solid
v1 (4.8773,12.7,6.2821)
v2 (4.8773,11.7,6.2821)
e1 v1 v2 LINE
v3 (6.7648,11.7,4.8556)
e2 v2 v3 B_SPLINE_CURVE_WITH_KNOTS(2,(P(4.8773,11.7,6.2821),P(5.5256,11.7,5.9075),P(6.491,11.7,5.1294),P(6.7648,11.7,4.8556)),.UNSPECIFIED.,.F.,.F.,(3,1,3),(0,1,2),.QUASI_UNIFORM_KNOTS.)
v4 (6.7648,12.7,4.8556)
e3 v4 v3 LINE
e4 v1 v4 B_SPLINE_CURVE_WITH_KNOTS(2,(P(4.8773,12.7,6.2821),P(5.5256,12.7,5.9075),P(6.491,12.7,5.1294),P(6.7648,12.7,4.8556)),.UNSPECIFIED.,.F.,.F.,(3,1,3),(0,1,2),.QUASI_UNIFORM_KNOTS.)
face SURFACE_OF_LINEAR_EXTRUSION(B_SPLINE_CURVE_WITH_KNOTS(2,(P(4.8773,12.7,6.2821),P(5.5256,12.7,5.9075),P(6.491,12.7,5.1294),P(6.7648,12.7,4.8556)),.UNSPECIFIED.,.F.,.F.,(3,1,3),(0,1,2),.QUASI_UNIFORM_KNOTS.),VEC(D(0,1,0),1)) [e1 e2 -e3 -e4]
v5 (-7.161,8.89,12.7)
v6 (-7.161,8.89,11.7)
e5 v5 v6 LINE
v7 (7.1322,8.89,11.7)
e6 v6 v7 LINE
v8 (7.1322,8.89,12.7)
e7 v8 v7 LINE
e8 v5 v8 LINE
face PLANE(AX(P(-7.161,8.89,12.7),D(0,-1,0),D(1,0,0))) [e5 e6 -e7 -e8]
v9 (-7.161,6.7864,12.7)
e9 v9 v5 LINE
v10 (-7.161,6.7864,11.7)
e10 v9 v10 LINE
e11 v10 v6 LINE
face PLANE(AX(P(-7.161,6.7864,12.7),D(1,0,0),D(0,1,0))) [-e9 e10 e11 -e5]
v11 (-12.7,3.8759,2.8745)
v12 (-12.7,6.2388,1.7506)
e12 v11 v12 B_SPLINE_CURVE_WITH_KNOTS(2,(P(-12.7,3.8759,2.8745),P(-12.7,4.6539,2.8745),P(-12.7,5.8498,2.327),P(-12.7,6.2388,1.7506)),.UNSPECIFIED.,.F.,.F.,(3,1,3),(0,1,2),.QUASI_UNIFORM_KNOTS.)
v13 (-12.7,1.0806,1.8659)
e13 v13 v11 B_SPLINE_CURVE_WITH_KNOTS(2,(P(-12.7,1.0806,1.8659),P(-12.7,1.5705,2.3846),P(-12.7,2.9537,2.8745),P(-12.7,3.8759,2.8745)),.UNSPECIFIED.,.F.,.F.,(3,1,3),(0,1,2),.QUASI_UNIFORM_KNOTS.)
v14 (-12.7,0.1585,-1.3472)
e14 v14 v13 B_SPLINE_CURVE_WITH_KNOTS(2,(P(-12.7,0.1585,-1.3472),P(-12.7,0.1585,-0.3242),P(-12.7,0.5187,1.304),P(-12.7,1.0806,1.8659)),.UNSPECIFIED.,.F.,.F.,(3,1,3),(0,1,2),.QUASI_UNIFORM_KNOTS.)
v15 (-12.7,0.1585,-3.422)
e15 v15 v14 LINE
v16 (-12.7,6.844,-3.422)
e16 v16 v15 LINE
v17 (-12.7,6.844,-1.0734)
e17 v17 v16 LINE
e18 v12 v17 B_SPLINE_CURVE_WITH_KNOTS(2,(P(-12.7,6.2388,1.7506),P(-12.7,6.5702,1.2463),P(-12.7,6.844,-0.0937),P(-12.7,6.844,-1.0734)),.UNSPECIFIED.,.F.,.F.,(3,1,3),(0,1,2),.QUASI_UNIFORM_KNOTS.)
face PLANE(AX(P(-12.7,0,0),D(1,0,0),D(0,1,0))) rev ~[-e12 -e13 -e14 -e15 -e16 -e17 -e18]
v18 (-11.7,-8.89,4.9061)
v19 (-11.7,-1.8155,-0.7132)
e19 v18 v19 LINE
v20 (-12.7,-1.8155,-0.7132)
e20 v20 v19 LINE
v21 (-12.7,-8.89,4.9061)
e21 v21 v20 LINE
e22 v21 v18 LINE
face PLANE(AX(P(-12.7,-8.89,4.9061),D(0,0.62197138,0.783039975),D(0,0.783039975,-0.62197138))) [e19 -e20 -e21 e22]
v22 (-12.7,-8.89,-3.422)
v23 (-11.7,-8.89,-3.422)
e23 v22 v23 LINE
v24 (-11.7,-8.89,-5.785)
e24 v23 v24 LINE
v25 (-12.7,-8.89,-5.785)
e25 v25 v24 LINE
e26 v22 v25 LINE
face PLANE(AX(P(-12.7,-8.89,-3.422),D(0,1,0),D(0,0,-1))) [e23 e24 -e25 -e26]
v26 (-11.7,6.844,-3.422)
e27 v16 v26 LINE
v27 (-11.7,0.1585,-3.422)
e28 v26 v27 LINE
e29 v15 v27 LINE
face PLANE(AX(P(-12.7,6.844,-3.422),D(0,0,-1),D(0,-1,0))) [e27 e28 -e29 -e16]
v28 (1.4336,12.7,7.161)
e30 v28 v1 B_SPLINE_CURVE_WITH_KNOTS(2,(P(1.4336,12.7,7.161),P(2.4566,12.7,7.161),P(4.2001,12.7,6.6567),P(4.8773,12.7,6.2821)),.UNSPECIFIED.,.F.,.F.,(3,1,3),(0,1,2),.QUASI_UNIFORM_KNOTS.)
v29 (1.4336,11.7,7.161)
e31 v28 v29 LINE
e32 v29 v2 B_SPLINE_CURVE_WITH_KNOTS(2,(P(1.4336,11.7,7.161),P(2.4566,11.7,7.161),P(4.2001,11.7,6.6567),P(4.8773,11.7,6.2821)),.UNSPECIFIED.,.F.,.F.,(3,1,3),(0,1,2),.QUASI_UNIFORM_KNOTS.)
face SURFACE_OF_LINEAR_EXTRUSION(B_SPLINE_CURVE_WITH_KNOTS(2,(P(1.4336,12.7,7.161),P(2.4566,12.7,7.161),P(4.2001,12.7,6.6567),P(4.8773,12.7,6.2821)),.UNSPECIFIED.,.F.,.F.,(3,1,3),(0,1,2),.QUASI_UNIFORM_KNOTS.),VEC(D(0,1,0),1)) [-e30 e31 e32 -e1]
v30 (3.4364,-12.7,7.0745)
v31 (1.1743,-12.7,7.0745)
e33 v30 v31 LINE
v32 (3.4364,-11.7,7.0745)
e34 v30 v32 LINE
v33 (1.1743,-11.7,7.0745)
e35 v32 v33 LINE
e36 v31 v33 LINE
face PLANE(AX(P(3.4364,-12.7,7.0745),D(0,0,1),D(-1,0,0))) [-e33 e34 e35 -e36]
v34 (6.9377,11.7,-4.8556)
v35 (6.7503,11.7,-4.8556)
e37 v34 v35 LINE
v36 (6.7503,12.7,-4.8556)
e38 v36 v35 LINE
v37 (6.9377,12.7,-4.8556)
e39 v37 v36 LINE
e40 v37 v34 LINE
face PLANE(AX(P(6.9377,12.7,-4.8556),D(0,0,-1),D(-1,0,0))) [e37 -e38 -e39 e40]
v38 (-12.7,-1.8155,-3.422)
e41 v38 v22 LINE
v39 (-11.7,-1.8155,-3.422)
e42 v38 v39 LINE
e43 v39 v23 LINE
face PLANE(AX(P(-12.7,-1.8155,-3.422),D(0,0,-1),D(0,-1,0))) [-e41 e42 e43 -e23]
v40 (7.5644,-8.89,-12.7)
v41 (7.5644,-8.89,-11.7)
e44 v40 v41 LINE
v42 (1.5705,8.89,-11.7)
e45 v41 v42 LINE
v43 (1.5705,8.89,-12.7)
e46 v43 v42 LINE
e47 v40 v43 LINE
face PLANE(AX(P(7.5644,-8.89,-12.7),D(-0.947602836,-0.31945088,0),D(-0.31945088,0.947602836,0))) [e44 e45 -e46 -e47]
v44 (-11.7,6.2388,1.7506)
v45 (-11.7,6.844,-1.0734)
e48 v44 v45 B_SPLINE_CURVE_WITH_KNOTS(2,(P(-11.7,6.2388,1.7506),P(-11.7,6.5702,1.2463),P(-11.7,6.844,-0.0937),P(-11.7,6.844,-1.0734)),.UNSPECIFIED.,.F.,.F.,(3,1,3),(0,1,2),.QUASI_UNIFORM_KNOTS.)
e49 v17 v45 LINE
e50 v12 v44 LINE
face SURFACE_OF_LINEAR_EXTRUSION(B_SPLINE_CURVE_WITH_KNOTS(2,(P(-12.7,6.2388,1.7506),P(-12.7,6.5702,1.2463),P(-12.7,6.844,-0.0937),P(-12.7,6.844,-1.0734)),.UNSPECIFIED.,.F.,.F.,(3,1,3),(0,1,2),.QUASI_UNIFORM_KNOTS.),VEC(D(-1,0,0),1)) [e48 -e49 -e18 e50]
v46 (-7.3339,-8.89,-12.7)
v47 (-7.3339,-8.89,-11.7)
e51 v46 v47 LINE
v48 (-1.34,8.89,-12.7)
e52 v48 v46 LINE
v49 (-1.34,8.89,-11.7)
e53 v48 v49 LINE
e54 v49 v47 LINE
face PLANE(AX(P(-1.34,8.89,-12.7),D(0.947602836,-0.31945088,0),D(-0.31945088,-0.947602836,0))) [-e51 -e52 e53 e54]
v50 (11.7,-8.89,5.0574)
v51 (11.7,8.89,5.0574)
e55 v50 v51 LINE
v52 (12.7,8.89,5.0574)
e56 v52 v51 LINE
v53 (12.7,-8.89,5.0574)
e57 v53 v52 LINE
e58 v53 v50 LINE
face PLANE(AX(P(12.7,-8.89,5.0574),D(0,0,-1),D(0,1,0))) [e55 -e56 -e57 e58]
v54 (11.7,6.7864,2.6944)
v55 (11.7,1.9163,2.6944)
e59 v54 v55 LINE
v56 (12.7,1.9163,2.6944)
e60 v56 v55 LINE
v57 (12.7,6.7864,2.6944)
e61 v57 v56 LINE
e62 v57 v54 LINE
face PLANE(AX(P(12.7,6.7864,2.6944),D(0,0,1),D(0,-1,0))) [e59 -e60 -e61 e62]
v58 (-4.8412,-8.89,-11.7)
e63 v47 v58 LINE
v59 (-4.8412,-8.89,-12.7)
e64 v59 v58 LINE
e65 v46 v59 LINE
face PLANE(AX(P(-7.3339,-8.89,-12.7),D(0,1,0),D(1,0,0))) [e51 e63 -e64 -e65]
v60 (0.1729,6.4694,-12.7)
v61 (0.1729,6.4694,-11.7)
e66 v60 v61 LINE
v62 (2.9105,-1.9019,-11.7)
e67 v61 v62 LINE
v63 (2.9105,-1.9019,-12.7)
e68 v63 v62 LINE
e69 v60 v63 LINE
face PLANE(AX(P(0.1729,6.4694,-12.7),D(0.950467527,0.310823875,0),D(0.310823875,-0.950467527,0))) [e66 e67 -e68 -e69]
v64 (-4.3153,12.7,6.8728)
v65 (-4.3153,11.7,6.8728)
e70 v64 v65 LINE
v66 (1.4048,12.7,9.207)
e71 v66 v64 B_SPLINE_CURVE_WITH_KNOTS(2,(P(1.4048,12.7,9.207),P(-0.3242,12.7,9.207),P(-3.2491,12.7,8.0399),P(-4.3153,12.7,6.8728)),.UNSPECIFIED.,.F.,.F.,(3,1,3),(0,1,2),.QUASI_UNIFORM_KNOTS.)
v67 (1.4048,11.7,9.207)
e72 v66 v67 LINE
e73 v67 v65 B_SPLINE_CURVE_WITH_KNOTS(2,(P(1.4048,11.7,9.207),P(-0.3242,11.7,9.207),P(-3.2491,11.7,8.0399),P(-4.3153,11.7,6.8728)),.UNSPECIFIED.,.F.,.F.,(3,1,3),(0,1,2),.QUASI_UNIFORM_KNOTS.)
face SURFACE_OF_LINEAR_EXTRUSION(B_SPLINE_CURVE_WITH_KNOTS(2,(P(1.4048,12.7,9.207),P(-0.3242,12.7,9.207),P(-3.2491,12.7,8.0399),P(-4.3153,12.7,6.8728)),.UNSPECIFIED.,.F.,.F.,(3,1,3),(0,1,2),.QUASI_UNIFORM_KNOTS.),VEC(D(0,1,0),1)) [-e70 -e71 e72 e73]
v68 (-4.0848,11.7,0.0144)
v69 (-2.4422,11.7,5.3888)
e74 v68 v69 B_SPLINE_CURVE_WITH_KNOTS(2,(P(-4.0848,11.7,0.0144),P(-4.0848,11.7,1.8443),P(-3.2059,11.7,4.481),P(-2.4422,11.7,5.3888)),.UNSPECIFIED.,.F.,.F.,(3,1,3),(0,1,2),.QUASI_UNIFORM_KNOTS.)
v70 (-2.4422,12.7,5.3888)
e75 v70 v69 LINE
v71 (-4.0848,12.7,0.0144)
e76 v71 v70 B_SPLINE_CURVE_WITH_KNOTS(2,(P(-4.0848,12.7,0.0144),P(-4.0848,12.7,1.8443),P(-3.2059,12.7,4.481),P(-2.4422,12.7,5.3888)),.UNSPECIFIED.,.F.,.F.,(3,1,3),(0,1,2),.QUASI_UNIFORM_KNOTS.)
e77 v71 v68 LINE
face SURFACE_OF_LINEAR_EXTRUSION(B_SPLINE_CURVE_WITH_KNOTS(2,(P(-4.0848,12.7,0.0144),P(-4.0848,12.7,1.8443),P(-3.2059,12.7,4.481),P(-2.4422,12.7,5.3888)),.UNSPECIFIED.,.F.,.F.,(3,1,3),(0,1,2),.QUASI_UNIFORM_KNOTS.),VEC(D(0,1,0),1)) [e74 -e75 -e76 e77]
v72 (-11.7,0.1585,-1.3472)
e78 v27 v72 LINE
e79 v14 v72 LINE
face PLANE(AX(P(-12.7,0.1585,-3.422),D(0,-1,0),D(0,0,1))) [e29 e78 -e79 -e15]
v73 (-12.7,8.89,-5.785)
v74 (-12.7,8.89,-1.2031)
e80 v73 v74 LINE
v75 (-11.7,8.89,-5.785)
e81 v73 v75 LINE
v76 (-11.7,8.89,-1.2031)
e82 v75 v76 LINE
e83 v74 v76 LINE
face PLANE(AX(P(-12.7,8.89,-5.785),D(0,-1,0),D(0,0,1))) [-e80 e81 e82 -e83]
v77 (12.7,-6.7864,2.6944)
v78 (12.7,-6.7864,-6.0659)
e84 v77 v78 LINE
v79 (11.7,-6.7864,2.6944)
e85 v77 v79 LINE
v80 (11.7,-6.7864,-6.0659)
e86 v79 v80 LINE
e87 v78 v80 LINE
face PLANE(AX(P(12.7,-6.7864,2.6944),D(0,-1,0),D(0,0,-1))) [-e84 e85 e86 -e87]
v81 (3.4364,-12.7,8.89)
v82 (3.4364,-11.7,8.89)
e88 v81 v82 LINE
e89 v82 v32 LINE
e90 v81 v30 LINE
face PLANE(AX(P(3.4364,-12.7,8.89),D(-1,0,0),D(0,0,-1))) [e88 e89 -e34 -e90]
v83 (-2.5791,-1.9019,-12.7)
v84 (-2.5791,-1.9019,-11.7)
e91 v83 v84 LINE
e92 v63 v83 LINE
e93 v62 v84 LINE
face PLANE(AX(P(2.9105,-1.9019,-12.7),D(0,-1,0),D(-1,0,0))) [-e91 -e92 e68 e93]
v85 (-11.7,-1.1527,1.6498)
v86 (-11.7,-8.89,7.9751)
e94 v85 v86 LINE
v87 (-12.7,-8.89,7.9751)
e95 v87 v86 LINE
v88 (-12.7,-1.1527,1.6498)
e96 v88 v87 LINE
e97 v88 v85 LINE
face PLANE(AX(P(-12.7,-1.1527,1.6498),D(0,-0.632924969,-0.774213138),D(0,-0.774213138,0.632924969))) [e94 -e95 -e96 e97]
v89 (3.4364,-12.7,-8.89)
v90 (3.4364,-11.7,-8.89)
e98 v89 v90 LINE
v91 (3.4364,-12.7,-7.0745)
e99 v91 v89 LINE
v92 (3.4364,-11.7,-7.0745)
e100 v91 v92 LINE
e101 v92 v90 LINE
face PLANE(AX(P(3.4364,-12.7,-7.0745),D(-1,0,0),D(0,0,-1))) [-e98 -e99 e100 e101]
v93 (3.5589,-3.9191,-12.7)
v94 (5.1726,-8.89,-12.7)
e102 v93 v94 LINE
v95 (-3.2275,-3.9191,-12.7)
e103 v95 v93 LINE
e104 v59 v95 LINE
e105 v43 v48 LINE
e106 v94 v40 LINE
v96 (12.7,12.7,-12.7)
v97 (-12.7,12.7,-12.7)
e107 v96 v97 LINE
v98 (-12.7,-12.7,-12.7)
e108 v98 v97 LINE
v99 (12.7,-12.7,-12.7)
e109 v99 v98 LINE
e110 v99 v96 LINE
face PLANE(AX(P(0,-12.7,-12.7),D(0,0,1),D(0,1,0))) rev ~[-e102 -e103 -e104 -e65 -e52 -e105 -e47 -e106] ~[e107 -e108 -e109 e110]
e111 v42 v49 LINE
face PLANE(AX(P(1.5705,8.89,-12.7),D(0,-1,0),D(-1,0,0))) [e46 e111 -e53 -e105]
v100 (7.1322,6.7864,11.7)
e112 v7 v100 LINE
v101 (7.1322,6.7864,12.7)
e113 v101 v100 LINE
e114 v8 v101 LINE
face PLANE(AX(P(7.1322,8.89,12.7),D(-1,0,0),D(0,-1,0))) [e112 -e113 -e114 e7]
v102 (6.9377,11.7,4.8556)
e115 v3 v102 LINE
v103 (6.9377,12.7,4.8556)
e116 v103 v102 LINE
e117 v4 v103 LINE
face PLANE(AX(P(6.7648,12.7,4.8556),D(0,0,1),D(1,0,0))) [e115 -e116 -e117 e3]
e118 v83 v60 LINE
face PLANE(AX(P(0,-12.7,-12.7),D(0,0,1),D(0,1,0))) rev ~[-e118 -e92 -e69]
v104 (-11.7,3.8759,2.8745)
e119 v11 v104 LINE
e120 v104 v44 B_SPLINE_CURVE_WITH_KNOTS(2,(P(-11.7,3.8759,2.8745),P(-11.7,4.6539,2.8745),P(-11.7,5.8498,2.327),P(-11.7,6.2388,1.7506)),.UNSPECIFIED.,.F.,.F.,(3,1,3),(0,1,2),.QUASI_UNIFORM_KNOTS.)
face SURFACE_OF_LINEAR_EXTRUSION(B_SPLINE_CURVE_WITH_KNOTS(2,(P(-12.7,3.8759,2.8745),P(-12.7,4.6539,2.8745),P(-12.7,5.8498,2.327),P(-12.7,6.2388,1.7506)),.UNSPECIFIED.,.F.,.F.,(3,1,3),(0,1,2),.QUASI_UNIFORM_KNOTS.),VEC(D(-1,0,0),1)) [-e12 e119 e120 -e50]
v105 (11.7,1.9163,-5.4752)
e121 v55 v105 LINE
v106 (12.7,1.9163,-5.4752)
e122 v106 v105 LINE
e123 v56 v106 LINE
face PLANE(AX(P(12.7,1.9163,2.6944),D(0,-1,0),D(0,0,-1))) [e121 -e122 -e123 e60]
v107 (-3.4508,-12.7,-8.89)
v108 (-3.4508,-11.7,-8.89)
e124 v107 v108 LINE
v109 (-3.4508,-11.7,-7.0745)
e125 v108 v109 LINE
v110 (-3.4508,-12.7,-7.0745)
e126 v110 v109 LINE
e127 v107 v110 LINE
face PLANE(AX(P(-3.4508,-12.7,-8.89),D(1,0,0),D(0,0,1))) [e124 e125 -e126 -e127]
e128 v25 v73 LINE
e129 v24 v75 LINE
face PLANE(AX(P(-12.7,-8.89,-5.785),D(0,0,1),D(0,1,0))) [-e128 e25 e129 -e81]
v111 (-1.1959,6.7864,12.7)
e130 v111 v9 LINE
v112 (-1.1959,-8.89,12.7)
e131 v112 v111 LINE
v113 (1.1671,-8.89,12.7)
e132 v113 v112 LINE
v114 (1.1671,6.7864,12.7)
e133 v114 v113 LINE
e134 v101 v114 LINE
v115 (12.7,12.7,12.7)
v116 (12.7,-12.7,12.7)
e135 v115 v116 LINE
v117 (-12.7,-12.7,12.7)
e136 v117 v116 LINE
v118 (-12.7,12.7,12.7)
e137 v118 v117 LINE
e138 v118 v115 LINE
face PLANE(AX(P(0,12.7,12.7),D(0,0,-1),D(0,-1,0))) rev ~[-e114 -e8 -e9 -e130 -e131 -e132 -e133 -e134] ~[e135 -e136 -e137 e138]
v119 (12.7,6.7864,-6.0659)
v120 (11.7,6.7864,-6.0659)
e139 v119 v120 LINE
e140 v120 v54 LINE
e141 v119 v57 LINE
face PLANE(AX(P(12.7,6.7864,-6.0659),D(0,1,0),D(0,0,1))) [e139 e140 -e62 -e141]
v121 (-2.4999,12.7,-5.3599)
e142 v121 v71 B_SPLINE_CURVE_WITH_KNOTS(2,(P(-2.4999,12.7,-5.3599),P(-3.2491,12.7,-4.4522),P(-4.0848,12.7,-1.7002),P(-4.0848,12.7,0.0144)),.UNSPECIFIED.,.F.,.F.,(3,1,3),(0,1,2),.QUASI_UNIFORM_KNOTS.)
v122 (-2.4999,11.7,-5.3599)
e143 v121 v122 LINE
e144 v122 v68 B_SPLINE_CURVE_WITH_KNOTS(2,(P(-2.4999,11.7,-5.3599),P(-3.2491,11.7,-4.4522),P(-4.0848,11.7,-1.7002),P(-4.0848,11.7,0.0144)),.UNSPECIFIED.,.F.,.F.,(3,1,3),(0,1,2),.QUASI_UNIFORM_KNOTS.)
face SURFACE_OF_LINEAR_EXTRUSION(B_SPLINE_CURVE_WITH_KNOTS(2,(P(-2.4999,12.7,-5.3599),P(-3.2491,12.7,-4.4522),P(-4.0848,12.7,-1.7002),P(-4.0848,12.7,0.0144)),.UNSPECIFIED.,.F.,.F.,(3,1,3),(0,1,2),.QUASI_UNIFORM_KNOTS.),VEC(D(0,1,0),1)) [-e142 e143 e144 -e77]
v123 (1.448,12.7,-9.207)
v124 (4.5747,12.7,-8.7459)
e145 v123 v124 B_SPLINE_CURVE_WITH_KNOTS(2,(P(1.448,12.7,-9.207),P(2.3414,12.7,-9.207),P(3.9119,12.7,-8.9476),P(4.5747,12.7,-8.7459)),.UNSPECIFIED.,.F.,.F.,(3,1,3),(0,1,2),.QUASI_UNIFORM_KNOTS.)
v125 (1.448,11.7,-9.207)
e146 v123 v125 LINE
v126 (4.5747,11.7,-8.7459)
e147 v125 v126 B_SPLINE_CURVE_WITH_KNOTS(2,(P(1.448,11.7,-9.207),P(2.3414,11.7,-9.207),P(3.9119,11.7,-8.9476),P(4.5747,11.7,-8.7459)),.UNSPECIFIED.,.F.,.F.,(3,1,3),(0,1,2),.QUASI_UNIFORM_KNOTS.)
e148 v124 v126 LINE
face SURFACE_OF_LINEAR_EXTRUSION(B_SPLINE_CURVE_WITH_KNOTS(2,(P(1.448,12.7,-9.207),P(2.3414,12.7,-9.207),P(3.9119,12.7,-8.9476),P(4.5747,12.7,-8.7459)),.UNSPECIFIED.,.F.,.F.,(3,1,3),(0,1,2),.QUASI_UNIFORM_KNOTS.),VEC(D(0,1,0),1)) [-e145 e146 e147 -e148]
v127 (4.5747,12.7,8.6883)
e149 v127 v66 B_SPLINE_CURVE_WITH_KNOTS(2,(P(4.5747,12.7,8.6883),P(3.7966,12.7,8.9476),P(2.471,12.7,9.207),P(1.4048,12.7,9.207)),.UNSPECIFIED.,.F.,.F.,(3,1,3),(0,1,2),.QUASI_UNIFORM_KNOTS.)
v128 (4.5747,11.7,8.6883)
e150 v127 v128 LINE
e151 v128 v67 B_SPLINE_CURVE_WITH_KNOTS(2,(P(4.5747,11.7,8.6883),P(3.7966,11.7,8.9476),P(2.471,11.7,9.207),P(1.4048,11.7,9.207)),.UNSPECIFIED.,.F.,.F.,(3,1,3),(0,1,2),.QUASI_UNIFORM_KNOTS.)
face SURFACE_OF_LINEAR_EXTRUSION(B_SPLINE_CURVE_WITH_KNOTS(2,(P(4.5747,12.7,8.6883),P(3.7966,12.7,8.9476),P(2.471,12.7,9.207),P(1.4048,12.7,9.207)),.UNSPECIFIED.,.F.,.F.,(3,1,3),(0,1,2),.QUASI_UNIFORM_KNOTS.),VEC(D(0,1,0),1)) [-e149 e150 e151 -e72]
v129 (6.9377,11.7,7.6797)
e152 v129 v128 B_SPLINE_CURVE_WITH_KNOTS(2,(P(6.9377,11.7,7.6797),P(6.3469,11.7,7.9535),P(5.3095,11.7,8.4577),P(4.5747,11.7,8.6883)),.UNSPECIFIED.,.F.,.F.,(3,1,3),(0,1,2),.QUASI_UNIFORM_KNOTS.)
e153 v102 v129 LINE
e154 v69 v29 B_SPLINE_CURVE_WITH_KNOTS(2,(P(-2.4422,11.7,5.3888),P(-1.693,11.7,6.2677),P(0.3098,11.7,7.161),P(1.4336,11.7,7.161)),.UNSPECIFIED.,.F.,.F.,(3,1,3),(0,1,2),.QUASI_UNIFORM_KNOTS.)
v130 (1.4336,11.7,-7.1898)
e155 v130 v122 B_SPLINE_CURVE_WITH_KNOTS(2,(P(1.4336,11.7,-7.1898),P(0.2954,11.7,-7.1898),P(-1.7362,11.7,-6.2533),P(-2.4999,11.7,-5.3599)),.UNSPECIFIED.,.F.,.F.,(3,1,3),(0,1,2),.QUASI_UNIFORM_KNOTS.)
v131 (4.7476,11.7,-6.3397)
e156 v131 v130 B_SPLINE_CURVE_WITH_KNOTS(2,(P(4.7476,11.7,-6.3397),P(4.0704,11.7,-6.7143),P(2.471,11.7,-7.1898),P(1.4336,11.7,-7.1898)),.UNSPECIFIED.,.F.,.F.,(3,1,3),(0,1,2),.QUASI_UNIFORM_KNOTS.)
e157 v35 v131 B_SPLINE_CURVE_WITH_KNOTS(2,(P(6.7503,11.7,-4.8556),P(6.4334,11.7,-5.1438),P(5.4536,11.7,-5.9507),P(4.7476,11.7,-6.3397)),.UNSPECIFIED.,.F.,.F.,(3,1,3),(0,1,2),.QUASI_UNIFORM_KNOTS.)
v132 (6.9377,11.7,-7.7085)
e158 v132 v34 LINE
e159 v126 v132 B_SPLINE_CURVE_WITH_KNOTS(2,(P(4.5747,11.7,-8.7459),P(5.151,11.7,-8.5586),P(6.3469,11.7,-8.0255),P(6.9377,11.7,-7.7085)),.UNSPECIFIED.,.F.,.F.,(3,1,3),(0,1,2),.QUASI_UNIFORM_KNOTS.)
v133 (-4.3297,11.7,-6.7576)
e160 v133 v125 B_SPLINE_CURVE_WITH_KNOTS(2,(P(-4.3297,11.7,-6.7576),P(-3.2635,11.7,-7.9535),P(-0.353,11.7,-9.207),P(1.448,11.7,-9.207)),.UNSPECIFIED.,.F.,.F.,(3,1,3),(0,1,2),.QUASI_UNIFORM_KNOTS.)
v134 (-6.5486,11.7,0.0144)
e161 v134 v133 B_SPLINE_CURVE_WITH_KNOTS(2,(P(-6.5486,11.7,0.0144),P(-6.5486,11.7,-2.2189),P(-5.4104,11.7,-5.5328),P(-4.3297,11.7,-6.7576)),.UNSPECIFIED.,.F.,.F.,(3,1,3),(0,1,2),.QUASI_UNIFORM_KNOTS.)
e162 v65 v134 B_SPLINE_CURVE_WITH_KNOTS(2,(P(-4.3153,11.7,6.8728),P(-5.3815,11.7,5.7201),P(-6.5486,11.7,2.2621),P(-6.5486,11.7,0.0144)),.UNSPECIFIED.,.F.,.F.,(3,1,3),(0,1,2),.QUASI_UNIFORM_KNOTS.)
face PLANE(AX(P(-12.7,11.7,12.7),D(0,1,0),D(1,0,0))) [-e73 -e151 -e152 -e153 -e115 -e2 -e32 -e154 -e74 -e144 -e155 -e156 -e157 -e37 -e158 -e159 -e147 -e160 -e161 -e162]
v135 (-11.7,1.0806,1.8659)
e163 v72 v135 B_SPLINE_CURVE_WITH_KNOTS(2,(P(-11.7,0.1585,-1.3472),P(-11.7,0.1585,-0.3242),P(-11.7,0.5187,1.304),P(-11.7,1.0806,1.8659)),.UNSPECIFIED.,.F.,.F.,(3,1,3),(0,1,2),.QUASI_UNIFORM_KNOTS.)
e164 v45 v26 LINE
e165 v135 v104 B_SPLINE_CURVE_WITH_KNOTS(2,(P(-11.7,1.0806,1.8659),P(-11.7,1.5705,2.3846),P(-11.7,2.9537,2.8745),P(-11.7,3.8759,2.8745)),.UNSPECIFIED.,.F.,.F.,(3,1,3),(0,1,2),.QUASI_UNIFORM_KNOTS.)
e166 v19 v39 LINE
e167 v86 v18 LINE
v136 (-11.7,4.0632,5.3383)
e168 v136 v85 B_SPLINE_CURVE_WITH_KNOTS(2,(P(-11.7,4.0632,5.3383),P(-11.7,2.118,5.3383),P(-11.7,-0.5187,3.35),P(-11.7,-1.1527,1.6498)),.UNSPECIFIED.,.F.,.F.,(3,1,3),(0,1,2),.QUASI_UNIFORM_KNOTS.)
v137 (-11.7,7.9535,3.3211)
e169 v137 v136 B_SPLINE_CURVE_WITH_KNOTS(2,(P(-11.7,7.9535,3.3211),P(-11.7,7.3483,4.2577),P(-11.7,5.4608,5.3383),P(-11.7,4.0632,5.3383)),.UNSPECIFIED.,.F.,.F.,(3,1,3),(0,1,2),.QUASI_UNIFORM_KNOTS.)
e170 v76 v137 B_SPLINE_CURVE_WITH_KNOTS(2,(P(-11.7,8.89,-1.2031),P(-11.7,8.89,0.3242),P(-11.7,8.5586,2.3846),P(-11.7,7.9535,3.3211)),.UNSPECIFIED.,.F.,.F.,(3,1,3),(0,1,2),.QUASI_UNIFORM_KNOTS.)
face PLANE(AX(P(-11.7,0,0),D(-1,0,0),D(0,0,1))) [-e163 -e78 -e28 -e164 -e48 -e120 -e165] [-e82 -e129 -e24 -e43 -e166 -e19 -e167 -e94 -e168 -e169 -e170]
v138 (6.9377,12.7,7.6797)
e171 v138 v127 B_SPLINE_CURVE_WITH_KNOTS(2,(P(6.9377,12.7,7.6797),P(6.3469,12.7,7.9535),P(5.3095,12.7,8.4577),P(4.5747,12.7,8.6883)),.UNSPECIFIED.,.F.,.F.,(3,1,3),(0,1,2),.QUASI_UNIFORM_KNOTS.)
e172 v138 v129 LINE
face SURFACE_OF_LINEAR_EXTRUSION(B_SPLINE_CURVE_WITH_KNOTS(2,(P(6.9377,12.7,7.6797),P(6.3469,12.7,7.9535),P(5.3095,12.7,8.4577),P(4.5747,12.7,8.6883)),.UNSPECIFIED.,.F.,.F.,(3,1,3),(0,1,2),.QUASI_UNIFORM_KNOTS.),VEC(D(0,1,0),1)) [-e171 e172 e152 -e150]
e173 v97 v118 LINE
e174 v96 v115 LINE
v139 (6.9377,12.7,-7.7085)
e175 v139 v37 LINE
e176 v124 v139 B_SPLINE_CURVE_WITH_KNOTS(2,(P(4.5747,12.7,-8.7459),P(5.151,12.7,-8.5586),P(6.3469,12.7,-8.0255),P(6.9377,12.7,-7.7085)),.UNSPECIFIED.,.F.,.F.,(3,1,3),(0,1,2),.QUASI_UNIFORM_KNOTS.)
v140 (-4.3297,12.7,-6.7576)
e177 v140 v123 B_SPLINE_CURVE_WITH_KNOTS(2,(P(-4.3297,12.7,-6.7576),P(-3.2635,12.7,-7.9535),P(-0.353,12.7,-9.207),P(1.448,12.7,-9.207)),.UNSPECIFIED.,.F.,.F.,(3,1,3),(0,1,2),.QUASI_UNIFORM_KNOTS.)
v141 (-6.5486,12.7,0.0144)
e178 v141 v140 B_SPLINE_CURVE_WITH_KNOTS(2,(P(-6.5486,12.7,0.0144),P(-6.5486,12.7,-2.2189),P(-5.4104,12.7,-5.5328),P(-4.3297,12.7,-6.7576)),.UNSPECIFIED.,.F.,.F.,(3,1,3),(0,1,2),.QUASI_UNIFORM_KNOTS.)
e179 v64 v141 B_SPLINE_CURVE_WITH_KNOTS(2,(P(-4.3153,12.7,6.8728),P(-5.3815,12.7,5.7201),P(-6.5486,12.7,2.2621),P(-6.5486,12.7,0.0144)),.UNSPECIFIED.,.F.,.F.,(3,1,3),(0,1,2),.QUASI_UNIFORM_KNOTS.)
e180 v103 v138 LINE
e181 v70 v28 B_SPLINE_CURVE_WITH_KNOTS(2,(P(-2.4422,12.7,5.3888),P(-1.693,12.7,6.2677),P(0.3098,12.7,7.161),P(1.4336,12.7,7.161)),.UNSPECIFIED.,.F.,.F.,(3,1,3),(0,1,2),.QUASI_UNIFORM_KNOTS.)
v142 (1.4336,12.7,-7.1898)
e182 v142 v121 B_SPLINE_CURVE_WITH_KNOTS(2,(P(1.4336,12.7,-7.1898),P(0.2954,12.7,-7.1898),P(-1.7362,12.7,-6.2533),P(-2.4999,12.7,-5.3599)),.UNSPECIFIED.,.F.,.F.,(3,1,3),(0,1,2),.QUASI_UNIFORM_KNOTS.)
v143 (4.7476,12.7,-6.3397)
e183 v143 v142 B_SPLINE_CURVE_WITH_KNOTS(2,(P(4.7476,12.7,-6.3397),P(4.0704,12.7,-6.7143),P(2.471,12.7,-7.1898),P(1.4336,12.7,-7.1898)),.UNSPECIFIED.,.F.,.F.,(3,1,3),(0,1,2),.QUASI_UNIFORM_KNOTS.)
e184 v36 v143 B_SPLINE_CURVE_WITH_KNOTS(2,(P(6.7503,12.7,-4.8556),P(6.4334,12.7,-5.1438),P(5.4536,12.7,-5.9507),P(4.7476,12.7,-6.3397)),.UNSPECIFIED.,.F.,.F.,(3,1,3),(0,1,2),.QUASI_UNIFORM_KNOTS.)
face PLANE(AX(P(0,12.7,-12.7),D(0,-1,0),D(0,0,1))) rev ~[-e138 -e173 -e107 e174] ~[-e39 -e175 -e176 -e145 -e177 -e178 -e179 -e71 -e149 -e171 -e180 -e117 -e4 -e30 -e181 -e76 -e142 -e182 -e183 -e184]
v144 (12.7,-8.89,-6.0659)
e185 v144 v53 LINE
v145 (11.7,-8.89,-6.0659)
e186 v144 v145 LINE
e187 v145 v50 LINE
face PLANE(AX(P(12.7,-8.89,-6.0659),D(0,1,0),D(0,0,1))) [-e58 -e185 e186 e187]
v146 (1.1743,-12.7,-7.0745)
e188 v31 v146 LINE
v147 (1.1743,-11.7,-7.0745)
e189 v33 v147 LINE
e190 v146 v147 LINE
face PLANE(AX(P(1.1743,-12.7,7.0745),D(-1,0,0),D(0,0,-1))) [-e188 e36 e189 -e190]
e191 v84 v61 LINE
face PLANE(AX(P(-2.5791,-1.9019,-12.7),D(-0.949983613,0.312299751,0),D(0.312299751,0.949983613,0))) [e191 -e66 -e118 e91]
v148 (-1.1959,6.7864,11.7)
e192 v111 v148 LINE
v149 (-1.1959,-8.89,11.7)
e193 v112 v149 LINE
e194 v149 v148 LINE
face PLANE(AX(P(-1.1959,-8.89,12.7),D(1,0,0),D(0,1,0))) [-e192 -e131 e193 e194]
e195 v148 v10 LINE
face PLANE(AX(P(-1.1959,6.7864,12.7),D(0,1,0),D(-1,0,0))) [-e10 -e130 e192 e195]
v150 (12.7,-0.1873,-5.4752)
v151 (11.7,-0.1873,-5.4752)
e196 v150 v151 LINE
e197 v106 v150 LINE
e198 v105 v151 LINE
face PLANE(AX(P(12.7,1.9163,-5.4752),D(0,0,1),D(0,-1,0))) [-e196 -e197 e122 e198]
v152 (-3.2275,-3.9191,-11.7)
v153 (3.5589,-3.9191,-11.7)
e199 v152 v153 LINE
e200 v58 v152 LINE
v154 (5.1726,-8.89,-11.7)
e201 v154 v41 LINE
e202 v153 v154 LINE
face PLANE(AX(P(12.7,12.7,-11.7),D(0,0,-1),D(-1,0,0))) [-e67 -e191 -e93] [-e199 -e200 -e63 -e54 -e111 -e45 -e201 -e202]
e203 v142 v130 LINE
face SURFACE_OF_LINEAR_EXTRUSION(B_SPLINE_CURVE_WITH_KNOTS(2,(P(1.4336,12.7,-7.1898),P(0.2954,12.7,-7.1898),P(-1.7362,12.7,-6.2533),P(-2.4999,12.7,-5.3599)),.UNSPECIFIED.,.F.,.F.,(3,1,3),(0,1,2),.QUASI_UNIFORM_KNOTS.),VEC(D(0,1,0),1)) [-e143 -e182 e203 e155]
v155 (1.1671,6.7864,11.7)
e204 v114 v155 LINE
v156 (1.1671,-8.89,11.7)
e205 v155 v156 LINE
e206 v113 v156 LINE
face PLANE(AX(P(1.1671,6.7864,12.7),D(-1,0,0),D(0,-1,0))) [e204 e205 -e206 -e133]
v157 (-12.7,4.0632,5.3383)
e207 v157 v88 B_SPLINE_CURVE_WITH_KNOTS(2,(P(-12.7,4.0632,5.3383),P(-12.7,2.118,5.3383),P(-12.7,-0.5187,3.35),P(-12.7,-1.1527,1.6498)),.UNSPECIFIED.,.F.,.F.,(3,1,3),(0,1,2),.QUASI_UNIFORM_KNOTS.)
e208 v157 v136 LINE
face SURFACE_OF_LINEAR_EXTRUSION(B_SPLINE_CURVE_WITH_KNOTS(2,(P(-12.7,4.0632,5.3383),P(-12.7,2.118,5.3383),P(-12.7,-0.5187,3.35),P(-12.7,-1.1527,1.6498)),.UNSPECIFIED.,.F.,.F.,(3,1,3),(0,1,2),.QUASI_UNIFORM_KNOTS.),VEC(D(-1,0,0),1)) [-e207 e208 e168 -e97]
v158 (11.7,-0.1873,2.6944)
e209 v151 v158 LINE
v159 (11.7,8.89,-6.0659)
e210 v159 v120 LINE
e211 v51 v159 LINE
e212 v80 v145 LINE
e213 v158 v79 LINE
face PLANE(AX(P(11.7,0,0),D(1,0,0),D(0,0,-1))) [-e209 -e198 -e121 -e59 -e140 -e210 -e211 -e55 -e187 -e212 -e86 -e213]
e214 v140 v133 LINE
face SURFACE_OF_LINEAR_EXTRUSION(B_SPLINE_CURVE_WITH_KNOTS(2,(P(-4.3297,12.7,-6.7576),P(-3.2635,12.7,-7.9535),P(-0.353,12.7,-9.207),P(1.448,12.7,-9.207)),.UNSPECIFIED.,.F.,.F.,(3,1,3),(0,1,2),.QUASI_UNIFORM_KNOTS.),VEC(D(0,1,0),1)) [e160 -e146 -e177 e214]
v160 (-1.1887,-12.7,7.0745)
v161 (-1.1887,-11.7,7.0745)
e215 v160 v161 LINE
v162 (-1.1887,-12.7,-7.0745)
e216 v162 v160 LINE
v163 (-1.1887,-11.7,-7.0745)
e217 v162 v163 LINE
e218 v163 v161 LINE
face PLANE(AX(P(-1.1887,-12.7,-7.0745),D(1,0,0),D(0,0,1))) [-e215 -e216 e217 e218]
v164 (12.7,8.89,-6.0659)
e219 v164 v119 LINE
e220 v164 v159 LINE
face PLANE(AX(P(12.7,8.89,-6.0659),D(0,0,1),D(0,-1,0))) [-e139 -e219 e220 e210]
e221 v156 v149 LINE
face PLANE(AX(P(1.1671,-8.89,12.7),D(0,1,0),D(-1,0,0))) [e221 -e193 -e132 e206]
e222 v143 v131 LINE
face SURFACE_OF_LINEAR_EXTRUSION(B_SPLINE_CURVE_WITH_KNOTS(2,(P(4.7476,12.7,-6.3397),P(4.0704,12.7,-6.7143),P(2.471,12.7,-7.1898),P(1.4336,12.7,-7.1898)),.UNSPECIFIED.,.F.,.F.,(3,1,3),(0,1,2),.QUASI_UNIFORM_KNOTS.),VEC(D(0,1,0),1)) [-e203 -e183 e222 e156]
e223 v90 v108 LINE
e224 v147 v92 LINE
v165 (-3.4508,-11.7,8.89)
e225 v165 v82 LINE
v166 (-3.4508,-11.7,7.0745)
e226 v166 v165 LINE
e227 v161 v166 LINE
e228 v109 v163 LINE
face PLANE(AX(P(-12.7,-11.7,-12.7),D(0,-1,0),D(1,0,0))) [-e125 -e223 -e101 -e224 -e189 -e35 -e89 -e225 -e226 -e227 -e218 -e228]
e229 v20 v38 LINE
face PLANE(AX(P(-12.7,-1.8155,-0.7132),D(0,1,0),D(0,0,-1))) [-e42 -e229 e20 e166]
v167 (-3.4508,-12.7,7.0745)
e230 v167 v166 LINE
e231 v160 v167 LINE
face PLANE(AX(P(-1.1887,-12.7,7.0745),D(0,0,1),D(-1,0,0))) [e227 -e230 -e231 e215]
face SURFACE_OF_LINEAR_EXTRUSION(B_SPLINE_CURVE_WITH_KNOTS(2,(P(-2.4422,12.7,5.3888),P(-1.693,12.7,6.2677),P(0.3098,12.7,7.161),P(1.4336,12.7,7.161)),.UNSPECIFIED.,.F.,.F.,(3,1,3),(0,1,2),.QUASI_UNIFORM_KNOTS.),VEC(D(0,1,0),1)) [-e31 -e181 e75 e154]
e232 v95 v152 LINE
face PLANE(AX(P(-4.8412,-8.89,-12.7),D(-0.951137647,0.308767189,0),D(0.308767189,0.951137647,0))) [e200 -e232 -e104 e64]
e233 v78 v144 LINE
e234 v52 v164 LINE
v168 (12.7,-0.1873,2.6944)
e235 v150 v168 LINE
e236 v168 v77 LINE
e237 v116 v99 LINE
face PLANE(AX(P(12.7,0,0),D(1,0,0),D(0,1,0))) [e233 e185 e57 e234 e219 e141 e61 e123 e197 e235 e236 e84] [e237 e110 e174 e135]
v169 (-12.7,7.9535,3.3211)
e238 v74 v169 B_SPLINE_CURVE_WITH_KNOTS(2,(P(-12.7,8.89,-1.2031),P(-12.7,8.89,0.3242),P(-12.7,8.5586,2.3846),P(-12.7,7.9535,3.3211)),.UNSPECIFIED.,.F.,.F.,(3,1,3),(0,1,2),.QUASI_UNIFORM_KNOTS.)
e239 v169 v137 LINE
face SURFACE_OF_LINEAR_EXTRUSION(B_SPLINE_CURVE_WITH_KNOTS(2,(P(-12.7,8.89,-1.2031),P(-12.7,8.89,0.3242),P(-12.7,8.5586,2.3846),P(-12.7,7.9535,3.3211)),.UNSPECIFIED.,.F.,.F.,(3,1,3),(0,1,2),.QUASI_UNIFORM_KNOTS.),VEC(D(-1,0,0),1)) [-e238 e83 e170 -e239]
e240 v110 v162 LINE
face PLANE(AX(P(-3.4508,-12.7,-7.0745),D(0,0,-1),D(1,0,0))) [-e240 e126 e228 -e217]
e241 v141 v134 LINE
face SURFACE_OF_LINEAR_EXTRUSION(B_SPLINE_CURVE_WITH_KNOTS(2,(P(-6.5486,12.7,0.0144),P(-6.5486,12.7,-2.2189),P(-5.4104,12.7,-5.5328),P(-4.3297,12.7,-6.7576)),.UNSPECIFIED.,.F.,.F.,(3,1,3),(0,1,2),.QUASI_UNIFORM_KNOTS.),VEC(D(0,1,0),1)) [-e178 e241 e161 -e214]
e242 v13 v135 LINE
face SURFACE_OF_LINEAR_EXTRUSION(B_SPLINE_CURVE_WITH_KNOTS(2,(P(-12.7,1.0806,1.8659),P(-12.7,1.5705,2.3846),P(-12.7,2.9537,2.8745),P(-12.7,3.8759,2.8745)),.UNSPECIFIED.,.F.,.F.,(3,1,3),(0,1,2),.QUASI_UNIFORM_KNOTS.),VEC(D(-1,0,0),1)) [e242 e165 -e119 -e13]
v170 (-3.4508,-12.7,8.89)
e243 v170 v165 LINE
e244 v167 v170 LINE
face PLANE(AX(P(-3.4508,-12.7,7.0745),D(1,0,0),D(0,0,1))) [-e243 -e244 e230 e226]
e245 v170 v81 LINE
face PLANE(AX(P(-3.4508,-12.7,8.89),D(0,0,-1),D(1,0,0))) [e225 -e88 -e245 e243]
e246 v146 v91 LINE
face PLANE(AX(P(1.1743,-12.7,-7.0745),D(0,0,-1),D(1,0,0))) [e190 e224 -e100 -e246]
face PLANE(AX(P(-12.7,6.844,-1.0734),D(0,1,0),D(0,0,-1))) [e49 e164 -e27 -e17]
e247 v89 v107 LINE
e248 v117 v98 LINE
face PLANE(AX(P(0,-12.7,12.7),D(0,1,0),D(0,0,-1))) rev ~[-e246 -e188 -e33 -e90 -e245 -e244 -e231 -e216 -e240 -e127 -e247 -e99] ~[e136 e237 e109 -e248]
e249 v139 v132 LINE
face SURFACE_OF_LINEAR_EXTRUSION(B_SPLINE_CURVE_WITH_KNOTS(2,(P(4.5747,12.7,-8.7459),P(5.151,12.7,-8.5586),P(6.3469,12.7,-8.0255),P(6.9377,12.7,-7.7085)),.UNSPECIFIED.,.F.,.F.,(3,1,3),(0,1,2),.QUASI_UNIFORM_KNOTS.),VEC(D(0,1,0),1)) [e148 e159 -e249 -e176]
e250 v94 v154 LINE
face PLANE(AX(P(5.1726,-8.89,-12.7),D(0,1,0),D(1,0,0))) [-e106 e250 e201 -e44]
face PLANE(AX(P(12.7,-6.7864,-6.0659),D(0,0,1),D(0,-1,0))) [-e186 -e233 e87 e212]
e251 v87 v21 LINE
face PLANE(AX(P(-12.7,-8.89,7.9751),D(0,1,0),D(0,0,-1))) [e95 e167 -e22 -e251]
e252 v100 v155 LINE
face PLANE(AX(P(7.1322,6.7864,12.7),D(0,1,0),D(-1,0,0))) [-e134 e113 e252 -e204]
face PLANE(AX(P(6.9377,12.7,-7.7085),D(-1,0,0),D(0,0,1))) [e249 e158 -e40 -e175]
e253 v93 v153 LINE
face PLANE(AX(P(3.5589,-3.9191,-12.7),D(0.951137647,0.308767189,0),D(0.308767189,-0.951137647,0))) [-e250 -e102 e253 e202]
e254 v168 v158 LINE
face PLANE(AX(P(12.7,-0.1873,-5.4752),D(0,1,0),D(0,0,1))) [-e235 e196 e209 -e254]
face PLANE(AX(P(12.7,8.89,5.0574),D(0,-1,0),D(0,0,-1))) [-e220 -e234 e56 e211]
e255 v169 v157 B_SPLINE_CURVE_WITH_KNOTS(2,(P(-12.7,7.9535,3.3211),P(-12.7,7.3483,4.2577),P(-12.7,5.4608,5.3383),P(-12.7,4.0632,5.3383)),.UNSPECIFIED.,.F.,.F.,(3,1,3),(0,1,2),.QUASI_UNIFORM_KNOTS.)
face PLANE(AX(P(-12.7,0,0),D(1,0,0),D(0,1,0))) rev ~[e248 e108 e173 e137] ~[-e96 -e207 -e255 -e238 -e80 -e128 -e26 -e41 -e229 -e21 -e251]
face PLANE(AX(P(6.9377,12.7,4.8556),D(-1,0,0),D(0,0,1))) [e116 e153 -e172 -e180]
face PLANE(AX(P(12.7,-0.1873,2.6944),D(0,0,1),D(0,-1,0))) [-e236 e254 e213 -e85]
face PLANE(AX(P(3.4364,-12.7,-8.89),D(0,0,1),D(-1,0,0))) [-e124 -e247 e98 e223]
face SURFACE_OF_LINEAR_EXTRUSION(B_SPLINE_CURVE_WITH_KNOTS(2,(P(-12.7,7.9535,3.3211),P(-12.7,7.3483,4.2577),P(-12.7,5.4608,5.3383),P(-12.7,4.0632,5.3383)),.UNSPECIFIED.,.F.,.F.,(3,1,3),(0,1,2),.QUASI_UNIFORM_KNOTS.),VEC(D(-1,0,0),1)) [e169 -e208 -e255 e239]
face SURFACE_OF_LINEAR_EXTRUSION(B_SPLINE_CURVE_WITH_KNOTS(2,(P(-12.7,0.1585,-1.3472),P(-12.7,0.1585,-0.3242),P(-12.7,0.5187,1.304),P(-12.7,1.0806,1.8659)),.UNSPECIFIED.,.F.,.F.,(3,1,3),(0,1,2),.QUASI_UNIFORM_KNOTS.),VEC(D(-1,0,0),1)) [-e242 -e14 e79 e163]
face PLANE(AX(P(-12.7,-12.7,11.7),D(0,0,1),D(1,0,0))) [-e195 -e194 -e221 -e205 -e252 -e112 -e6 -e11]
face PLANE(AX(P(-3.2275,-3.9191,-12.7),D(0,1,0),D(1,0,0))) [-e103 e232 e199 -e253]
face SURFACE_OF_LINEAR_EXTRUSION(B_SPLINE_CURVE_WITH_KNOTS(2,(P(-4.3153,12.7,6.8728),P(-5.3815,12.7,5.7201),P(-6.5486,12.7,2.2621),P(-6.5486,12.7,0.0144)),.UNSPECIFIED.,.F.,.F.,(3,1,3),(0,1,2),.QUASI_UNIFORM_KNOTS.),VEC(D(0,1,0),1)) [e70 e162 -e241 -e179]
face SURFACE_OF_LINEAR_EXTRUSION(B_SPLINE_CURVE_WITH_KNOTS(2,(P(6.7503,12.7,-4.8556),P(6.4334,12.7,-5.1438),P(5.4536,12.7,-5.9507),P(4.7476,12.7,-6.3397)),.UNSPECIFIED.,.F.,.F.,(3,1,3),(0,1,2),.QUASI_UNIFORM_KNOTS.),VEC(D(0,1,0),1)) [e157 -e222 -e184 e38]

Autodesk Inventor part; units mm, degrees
ref_plane "YZ Plane" through (0, 0, 0) normal (1, 0, 0) x (0, 1, 0)
ref_plane "XZ Plane" through (0, 0, 0) normal (0, 1, 0) x (-1, 0, 0)
ref_plane "XY Plane" through (0, 0, 0) normal (0, 0, 1) x (1, 0, 0)
sketch "sqr_sketch" plane through (0, 0, 0) normal (1, 0, 0) x (0, 1, 0)
  line L0 (12.7, 12.7) -> (-12.7, 12.7)
  line L1 (-12.7, 12.7) -> (-12.7, -12.7)
  line L2 (-12.7, -12.7) -> (12.7, -12.7)
  line L3 (12.7, -12.7) -> (12.7, 12.7)
  line L4 (12.7, 12.7) -> (-12.7, -12.7) construction
  line L5 (-12.7, 12.7) -> (12.7, -12.7) construction
  point P0 (0, 0)
  dimension "d0" = 25.4
extrude "sqr_extrusion" add sketch "sqr_sketch" along normal mid plane 25.4
sketch "T_sketch" plane through (-12.7, -12.7, 12.7) normal (0, 0, 1) x (1, 0, 0)
  line L0 (5.5534, 21.59) -> (19.8466, 21.59) construction
  line L1 (19.8466, 21.59) -> (19.8466, 3.81) construction
  line L2 (19.8466, 3.81) -> (5.5534, 3.81) construction
  line L3 (5.5534, 3.81) -> (5.5534, 21.59) construction
  line L4 (12.7, 21.59) -> (12.7, 3.81) construction
  line L5 (11.5041, 3.81) -> (11.5041, 19.4864)
  line L6 (11.5041, 19.4864) -> (5.539, 19.4864)
  line L7 (5.539, 19.4864) -> (5.539, 21.59)
  line L8 (5.539, 21.59) -> (19.8322, 21.59)
  line L9 (19.8322, 21.59) -> (19.8322, 19.4864)
  line L10 (19.8322, 19.4864) -> (13.8671, 19.4864)
  line L11 (13.8671, 19.4864) -> (13.8671, 3.81)
  line L12 (13.8671, 3.81) -> (11.5041, 3.81)
  point P0 (12.7, 12.7)
  point P1 (12.7, 12.7)
  point P2 (5.5534, 12.7)
  point P3 (19.8466, 12.7)
  dimension "d17" = 17.78
  dimension "d18" = 14.2932
extrude "T_extrusion" cut sketch "T_sketch" against normal blind 1
sketch "E_sketch" plane through (12.7, 0, 0) normal (1, 0, 0) x (0, 0, -1)
  line L0 (-6.8584, 8.89) -> (6.8584, 8.89) construction
  line L1 (6.8584, 8.89) -> (6.8584, -8.89) construction
  line L2 (6.8584, -8.89) -> (-6.8584, -8.89) construction
  line L3 (-6.8584, -8.89) -> (-6.8584, 8.89) construction
  line L4 (0, 8.89) -> (0, -8.89) construction
  line L5 (-5.0574, -8.89) -> (-5.0574, 8.89)
  line L6 (-5.0574, 8.89) -> (6.0659, 8.89)
  line L7 (6.0659, 8.89) -> (6.0659, 6.7864)
  line L8 (6.0659, 6.7864) -> (-2.6944, 6.7864)
  line L9 (-2.6944, 6.7864) -> (-2.6944, 1.9163)
  line L10 (-2.6944, 1.9163) -> (5.4752, 1.9163)
  line L11 (5.4752, 1.9163) -> (5.4752, -0.1873)
  line L12 (5.4752, -0.1873) -> (-2.6944, -0.1873)
  line L13 (-2.6944, -0.1873) -> (-2.6944, -6.7864)
  line L14 (-2.6944, -6.7864) -> (6.0659, -6.7864)
  line L15 (6.0659, -6.7864) -> (6.0659, -8.89)
  line L16 (6.0659, -8.89) -> (-5.0574, -8.89)
  point P0 (0, 0)
  point P1 (0, 0)
  point P2 (-6.8584, 0)
  point P3 (6.8584, 0)
  dimension "d15" = 17.78
  dimension "d16" = 13.7168
extrude "E_extrusion" cut sketch "E_sketch" against normal blind 1
sketch "A_sketch" plane through (12.7, 12.7, -12.7) normal (0, 0, -1) x (-1, 0, 0)
  line L0 (5.2508, -3.81) -> (20.1492, -3.81) construction
  line L1 (20.1492, -3.81) -> (20.1492, -21.59) construction
  line L2 (20.1492, -21.59) -> (5.2508, -21.59) construction
  line L3 (5.2508, -21.59) -> (5.2508, -3.81) construction
  line L4 (12.7, -3.81) -> (12.7, -21.59) construction
  line L5 (5.1356, -21.59) -> (11.1295, -3.81)
  line L6 (11.1295, -3.81) -> (14.04, -3.81)
  line L7 (14.04, -3.81) -> (20.0339, -21.59)
  line L8 (20.0339, -21.59) -> (17.5412, -21.59)
  line L9 (17.5412, -21.59) -> (15.9275, -16.6191)
  line L10 (15.9275, -16.6191) -> (9.1411, -16.6191)
  line L11 (9.1411, -16.6191) -> (7.5274, -21.59)
  line L12 (7.5274, -21.59) -> (5.1356, -21.59)
  line L13 (15.2791, -14.6019) -> (12.5271, -6.2306)
  line L14 (12.5271, -6.2306) -> (9.7895, -14.6019)
  line L15 (9.7895, -14.6019) -> (15.2791, -14.6019)
  point P0 (12.7, -12.7)
  point P1 (5.2508, -12.7)
  point P2 (20.1492, -12.7)
  point P3 (12.7, -12.7)
  dimension "d19" = 17.78
  dimension "d20" = 14.8983
extrude "A_extrusion" cut sketch "A_sketch" against normal blind 1
sketch "R_sketch" plane through (-12.7, 0, 0) normal (-1, 0, 0) x (0, 0, 1)
  line L0 (-7.586, 8.89) -> (7.586, 8.89) construction
  line L1 (7.586, 8.89) -> (7.586, -8.89) construction
  line L2 (7.586, -8.89) -> (-7.586, -8.89) construction
  line L3 (-7.586, -8.89) -> (-7.586, 8.89) construction
  line L4 (0, 8.89) -> (0, -8.89) construction
  line L5 (7.9751, -8.89) -> (4.9061, -8.89)
  line L6 (4.9061, -8.89) -> (-0.7132, -1.8155)
  line L7 (-0.7132, -1.8155) -> (-3.422, -1.8155)
  line L8 (-3.422, -1.8155) -> (-3.422, -8.89)
  line L9 (-3.422, -8.89) -> (-5.785, -8.89)
  line L10 (-5.785, -8.89) -> (-5.785, 8.89)
  line L11 (-5.785, 8.89) -> (-1.2031, 8.89)
  spline S0 degree 2 poles (-1.2031, 8.89) (0.3242, 8.89) (2.3846, 8.5586) (3.3211, 7.9535) knots 0 0 0 1 2 2 2
  spline S1 degree 2 poles (3.3211, 7.9535) (4.2577, 7.3483) (5.3383, 5.4608) (5.3383, 4.0632) knots 0 0 0 1 2 2 2
  spline S2 degree 2 poles (5.3383, 4.0632) (5.3383, 2.118) (3.35, -0.5187) (1.6498, -1.1527) knots 0 0 0 1 2 2 2
  line L12 (1.6498, -1.1527) -> (7.9751, -8.89)
  spline S3 degree 2 poles (2.8745, 3.8759) (2.8745, 4.6539) (2.327, 5.8498) (1.7506, 6.2388) knots 0 0 0 1 2 2 2
  spline S4 degree 2 poles (1.7506, 6.2388) (1.2463, 6.5702) (-0.0937, 6.844) (-1.0734, 6.844) knots 0 0 0 1 2 2 2
  line L13 (-1.0734, 6.844) -> (-3.422, 6.844)
  line L14 (-3.422, 6.844) -> (-3.422, 0.1585)
  line L15 (-3.422, 0.1585) -> (-1.3472, 0.1585)
  spline S5 degree 2 poles (-1.3472, 0.1585) (-0.3242, 0.1585) (1.304, 0.5187) (1.8659, 1.0806) knots 0 0 0 1 2 2 2
  spline S6 degree 2 poles (1.8659, 1.0806) (2.3846, 1.5705) (2.8745, 2.9537) (2.8745, 3.8759) knots 0 0 0 1 2 2 2
  point P0 (0, 0)
  point P1 (0, 0)
  point P2 (-7.586, 0)
  point P3 (7.586, 0)
  dimension "d21" = 17.78
  dimension "d22" = 15.1721
extrude "R_extrusion" cut sketch "R_sketch" against normal blind 1
sketch "C_sketch" plane through (-12.7, 12.7, 12.7) normal (0, 1, 0) x (1, 0, 0)
  line L0 (5.3589, 21.907) -> (20.0411, 21.907) construction
  line L1 (20.0411, 21.907) -> (20.0411, 3.493) construction
  line L2 (20.0411, 3.493) -> (5.3589, 3.493) construction
  line L3 (5.3589, 3.493) -> (5.3589, 21.907) construction
  line L4 (12.7, 21.907) -> (12.7, 3.493) construction
  spline S0 degree 2 poles (14.1048, 3.493) (12.3758, 3.493) (9.4509, 4.6601) (8.3847, 5.8272) knots 0 0 0 1 2 2 2
  spline S1 degree 2 poles (8.3847, 5.8272) (7.3185, 6.9799) (6.1514, 10.4379) (6.1514, 12.6856) knots 0 0 0 1 2 2 2
  spline S2 degree 2 poles (6.1514, 12.6856) (6.1514, 14.9189) (7.2896, 18.2328) (8.3703, 19.4576) knots 0 0 0 1 2 2 2
  spline S3 degree 2 poles (8.3703, 19.4576) (9.4365, 20.6535) (12.347, 21.907) (14.148, 21.907) knots 0 0 0 1 2 2 2
  spline S4 degree 2 poles (14.148, 21.907) (15.0414, 21.907) (16.6119, 21.6476) (17.2747, 21.4459) knots 0 0 0 1 2 2 2
  spline S5 degree 2 poles (17.2747, 21.4459) (17.851, 21.2586) (19.0469, 20.7255) (19.6377, 20.4085) knots 0 0 0 1 2 2 2
  line L5 (19.6377, 20.4085) -> (19.6377, 17.5556)
  line L6 (19.6377, 17.5556) -> (19.4503, 17.5556)
  spline S6 degree 2 poles (19.4503, 17.5556) (19.1334, 17.8438) (18.1536, 18.6507) (17.4476, 19.0397) knots 0 0 0 1 2 2 2
  spline S7 degree 2 poles (17.4476, 19.0397) (16.7704, 19.4143) (15.171, 19.8898) (14.1336, 19.8898) knots 0 0 0 1 2 2 2
  spline S8 degree 2 poles (14.1336, 19.8898) (12.9954, 19.8898) (10.9638, 18.9533) (10.2001, 18.0599) knots 0 0 0 1 2 2 2
  spline S9 degree 2 poles (10.2001, 18.0599) (9.4509, 17.1522) (8.6152, 14.4002) (8.6152, 12.6856) knots 0 0 0 1 2 2 2
  spline S10 degree 2 poles (8.6152, 12.6856) (8.6152, 10.8557) (9.4941, 8.219) (10.2578, 7.3112) knots 0 0 0 1 2 2 2
  spline S11 degree 2 poles (10.2578, 7.3112) (11.007, 6.4323) (13.0098, 5.539) (14.1336, 5.539) knots 0 0 0 1 2 2 2
  spline S12 degree 2 poles (14.1336, 5.539) (15.1566, 5.539) (16.9001, 6.0433) (17.5773, 6.4179) knots 0 0 0 1 2 2 2
  spline S13 degree 2 poles (17.5773, 6.4179) (18.2256, 6.7925) (19.191, 7.5706) (19.4648, 7.8444) knots 0 0 0 1 2 2 2
  line L7 (19.4648, 7.8444) -> (19.6377, 7.8444)
  line L8 (19.6377, 7.8444) -> (19.6377, 5.0203)
  spline S14 degree 2 poles (19.6377, 5.0203) (19.0469, 4.7465) (18.0095, 4.2423) (17.2747, 4.0117) knots 0 0 0 1 2 2 2
  spline S15 degree 2 poles (17.2747, 4.0117) (16.4966, 3.7524) (15.171, 3.493) (14.1048, 3.493) knots 0 0 0 1 2 2 2
  point P0 (12.7, 12.7)
  point P1 (5.3589, 12.7)
  point P2 (20.0411, 12.7)
  point P3 (12.7, 12.7)
  dimension "d23" = 18.414
  dimension "d24" = 14.6822
extrude "C_extrusion" cut sketch "C_sketch" against normal blind 1
sketch "I_sketch" plane through (-12.7, -12.7, -12.7) normal (0, -1, 0) x (1, 0, 0)
  line L0 (8.1397, 21.59) -> (17.2603, 21.59) construction
  line L1 (17.2603, 21.59) -> (17.2603, 3.81) construction
  line L2 (17.2603, 3.81) -> (8.1397, 3.81) construction
  line L3 (8.1397, 3.81) -> (8.1397, 21.59) construction
  line L4 (12.7, 3.81) -> (12.7, 21.59) construction
  line L5 (16.1364, 3.81) -> (9.2492, 3.81)
  line L6 (9.2492, 3.81) -> (9.2492, 5.6255)
  line L7 (9.2492, 5.6255) -> (11.5113, 5.6255)
  line L8 (11.5113, 5.6255) -> (11.5113, 19.7745)
  line L9 (11.5113, 19.7745) -> (9.2492, 19.7745)
  line L10 (9.2492, 19.7745) -> (9.2492, 21.59)
  line L11 (9.2492, 21.59) -> (16.1364, 21.59)
  line L12 (16.1364, 21.59) -> (16.1364, 19.7745)
  line L13 (16.1364, 19.7745) -> (13.8743, 19.7745)
  line L14 (13.8743, 19.7745) -> (13.8743, 5.6255)
  line L15 (13.8743, 5.6255) -> (16.1364, 5.6255)
  line L16 (16.1364, 5.6255) -> (16.1364, 3.81)
  point P0 (12.7, 12.7)
  point P1 (17.2603, 12.7)
  point P2 (8.1397, 12.7)
  point P3 (12.7, 12.7)
  dimension "d25" = 17.78
  dimension "d26" = 9.1205
extrude "I_extrusion" cut sketch "I_sketch" against normal blind 1
equation "\"d1\" = d0"
properties part number "Cubo" material "Rubber"
